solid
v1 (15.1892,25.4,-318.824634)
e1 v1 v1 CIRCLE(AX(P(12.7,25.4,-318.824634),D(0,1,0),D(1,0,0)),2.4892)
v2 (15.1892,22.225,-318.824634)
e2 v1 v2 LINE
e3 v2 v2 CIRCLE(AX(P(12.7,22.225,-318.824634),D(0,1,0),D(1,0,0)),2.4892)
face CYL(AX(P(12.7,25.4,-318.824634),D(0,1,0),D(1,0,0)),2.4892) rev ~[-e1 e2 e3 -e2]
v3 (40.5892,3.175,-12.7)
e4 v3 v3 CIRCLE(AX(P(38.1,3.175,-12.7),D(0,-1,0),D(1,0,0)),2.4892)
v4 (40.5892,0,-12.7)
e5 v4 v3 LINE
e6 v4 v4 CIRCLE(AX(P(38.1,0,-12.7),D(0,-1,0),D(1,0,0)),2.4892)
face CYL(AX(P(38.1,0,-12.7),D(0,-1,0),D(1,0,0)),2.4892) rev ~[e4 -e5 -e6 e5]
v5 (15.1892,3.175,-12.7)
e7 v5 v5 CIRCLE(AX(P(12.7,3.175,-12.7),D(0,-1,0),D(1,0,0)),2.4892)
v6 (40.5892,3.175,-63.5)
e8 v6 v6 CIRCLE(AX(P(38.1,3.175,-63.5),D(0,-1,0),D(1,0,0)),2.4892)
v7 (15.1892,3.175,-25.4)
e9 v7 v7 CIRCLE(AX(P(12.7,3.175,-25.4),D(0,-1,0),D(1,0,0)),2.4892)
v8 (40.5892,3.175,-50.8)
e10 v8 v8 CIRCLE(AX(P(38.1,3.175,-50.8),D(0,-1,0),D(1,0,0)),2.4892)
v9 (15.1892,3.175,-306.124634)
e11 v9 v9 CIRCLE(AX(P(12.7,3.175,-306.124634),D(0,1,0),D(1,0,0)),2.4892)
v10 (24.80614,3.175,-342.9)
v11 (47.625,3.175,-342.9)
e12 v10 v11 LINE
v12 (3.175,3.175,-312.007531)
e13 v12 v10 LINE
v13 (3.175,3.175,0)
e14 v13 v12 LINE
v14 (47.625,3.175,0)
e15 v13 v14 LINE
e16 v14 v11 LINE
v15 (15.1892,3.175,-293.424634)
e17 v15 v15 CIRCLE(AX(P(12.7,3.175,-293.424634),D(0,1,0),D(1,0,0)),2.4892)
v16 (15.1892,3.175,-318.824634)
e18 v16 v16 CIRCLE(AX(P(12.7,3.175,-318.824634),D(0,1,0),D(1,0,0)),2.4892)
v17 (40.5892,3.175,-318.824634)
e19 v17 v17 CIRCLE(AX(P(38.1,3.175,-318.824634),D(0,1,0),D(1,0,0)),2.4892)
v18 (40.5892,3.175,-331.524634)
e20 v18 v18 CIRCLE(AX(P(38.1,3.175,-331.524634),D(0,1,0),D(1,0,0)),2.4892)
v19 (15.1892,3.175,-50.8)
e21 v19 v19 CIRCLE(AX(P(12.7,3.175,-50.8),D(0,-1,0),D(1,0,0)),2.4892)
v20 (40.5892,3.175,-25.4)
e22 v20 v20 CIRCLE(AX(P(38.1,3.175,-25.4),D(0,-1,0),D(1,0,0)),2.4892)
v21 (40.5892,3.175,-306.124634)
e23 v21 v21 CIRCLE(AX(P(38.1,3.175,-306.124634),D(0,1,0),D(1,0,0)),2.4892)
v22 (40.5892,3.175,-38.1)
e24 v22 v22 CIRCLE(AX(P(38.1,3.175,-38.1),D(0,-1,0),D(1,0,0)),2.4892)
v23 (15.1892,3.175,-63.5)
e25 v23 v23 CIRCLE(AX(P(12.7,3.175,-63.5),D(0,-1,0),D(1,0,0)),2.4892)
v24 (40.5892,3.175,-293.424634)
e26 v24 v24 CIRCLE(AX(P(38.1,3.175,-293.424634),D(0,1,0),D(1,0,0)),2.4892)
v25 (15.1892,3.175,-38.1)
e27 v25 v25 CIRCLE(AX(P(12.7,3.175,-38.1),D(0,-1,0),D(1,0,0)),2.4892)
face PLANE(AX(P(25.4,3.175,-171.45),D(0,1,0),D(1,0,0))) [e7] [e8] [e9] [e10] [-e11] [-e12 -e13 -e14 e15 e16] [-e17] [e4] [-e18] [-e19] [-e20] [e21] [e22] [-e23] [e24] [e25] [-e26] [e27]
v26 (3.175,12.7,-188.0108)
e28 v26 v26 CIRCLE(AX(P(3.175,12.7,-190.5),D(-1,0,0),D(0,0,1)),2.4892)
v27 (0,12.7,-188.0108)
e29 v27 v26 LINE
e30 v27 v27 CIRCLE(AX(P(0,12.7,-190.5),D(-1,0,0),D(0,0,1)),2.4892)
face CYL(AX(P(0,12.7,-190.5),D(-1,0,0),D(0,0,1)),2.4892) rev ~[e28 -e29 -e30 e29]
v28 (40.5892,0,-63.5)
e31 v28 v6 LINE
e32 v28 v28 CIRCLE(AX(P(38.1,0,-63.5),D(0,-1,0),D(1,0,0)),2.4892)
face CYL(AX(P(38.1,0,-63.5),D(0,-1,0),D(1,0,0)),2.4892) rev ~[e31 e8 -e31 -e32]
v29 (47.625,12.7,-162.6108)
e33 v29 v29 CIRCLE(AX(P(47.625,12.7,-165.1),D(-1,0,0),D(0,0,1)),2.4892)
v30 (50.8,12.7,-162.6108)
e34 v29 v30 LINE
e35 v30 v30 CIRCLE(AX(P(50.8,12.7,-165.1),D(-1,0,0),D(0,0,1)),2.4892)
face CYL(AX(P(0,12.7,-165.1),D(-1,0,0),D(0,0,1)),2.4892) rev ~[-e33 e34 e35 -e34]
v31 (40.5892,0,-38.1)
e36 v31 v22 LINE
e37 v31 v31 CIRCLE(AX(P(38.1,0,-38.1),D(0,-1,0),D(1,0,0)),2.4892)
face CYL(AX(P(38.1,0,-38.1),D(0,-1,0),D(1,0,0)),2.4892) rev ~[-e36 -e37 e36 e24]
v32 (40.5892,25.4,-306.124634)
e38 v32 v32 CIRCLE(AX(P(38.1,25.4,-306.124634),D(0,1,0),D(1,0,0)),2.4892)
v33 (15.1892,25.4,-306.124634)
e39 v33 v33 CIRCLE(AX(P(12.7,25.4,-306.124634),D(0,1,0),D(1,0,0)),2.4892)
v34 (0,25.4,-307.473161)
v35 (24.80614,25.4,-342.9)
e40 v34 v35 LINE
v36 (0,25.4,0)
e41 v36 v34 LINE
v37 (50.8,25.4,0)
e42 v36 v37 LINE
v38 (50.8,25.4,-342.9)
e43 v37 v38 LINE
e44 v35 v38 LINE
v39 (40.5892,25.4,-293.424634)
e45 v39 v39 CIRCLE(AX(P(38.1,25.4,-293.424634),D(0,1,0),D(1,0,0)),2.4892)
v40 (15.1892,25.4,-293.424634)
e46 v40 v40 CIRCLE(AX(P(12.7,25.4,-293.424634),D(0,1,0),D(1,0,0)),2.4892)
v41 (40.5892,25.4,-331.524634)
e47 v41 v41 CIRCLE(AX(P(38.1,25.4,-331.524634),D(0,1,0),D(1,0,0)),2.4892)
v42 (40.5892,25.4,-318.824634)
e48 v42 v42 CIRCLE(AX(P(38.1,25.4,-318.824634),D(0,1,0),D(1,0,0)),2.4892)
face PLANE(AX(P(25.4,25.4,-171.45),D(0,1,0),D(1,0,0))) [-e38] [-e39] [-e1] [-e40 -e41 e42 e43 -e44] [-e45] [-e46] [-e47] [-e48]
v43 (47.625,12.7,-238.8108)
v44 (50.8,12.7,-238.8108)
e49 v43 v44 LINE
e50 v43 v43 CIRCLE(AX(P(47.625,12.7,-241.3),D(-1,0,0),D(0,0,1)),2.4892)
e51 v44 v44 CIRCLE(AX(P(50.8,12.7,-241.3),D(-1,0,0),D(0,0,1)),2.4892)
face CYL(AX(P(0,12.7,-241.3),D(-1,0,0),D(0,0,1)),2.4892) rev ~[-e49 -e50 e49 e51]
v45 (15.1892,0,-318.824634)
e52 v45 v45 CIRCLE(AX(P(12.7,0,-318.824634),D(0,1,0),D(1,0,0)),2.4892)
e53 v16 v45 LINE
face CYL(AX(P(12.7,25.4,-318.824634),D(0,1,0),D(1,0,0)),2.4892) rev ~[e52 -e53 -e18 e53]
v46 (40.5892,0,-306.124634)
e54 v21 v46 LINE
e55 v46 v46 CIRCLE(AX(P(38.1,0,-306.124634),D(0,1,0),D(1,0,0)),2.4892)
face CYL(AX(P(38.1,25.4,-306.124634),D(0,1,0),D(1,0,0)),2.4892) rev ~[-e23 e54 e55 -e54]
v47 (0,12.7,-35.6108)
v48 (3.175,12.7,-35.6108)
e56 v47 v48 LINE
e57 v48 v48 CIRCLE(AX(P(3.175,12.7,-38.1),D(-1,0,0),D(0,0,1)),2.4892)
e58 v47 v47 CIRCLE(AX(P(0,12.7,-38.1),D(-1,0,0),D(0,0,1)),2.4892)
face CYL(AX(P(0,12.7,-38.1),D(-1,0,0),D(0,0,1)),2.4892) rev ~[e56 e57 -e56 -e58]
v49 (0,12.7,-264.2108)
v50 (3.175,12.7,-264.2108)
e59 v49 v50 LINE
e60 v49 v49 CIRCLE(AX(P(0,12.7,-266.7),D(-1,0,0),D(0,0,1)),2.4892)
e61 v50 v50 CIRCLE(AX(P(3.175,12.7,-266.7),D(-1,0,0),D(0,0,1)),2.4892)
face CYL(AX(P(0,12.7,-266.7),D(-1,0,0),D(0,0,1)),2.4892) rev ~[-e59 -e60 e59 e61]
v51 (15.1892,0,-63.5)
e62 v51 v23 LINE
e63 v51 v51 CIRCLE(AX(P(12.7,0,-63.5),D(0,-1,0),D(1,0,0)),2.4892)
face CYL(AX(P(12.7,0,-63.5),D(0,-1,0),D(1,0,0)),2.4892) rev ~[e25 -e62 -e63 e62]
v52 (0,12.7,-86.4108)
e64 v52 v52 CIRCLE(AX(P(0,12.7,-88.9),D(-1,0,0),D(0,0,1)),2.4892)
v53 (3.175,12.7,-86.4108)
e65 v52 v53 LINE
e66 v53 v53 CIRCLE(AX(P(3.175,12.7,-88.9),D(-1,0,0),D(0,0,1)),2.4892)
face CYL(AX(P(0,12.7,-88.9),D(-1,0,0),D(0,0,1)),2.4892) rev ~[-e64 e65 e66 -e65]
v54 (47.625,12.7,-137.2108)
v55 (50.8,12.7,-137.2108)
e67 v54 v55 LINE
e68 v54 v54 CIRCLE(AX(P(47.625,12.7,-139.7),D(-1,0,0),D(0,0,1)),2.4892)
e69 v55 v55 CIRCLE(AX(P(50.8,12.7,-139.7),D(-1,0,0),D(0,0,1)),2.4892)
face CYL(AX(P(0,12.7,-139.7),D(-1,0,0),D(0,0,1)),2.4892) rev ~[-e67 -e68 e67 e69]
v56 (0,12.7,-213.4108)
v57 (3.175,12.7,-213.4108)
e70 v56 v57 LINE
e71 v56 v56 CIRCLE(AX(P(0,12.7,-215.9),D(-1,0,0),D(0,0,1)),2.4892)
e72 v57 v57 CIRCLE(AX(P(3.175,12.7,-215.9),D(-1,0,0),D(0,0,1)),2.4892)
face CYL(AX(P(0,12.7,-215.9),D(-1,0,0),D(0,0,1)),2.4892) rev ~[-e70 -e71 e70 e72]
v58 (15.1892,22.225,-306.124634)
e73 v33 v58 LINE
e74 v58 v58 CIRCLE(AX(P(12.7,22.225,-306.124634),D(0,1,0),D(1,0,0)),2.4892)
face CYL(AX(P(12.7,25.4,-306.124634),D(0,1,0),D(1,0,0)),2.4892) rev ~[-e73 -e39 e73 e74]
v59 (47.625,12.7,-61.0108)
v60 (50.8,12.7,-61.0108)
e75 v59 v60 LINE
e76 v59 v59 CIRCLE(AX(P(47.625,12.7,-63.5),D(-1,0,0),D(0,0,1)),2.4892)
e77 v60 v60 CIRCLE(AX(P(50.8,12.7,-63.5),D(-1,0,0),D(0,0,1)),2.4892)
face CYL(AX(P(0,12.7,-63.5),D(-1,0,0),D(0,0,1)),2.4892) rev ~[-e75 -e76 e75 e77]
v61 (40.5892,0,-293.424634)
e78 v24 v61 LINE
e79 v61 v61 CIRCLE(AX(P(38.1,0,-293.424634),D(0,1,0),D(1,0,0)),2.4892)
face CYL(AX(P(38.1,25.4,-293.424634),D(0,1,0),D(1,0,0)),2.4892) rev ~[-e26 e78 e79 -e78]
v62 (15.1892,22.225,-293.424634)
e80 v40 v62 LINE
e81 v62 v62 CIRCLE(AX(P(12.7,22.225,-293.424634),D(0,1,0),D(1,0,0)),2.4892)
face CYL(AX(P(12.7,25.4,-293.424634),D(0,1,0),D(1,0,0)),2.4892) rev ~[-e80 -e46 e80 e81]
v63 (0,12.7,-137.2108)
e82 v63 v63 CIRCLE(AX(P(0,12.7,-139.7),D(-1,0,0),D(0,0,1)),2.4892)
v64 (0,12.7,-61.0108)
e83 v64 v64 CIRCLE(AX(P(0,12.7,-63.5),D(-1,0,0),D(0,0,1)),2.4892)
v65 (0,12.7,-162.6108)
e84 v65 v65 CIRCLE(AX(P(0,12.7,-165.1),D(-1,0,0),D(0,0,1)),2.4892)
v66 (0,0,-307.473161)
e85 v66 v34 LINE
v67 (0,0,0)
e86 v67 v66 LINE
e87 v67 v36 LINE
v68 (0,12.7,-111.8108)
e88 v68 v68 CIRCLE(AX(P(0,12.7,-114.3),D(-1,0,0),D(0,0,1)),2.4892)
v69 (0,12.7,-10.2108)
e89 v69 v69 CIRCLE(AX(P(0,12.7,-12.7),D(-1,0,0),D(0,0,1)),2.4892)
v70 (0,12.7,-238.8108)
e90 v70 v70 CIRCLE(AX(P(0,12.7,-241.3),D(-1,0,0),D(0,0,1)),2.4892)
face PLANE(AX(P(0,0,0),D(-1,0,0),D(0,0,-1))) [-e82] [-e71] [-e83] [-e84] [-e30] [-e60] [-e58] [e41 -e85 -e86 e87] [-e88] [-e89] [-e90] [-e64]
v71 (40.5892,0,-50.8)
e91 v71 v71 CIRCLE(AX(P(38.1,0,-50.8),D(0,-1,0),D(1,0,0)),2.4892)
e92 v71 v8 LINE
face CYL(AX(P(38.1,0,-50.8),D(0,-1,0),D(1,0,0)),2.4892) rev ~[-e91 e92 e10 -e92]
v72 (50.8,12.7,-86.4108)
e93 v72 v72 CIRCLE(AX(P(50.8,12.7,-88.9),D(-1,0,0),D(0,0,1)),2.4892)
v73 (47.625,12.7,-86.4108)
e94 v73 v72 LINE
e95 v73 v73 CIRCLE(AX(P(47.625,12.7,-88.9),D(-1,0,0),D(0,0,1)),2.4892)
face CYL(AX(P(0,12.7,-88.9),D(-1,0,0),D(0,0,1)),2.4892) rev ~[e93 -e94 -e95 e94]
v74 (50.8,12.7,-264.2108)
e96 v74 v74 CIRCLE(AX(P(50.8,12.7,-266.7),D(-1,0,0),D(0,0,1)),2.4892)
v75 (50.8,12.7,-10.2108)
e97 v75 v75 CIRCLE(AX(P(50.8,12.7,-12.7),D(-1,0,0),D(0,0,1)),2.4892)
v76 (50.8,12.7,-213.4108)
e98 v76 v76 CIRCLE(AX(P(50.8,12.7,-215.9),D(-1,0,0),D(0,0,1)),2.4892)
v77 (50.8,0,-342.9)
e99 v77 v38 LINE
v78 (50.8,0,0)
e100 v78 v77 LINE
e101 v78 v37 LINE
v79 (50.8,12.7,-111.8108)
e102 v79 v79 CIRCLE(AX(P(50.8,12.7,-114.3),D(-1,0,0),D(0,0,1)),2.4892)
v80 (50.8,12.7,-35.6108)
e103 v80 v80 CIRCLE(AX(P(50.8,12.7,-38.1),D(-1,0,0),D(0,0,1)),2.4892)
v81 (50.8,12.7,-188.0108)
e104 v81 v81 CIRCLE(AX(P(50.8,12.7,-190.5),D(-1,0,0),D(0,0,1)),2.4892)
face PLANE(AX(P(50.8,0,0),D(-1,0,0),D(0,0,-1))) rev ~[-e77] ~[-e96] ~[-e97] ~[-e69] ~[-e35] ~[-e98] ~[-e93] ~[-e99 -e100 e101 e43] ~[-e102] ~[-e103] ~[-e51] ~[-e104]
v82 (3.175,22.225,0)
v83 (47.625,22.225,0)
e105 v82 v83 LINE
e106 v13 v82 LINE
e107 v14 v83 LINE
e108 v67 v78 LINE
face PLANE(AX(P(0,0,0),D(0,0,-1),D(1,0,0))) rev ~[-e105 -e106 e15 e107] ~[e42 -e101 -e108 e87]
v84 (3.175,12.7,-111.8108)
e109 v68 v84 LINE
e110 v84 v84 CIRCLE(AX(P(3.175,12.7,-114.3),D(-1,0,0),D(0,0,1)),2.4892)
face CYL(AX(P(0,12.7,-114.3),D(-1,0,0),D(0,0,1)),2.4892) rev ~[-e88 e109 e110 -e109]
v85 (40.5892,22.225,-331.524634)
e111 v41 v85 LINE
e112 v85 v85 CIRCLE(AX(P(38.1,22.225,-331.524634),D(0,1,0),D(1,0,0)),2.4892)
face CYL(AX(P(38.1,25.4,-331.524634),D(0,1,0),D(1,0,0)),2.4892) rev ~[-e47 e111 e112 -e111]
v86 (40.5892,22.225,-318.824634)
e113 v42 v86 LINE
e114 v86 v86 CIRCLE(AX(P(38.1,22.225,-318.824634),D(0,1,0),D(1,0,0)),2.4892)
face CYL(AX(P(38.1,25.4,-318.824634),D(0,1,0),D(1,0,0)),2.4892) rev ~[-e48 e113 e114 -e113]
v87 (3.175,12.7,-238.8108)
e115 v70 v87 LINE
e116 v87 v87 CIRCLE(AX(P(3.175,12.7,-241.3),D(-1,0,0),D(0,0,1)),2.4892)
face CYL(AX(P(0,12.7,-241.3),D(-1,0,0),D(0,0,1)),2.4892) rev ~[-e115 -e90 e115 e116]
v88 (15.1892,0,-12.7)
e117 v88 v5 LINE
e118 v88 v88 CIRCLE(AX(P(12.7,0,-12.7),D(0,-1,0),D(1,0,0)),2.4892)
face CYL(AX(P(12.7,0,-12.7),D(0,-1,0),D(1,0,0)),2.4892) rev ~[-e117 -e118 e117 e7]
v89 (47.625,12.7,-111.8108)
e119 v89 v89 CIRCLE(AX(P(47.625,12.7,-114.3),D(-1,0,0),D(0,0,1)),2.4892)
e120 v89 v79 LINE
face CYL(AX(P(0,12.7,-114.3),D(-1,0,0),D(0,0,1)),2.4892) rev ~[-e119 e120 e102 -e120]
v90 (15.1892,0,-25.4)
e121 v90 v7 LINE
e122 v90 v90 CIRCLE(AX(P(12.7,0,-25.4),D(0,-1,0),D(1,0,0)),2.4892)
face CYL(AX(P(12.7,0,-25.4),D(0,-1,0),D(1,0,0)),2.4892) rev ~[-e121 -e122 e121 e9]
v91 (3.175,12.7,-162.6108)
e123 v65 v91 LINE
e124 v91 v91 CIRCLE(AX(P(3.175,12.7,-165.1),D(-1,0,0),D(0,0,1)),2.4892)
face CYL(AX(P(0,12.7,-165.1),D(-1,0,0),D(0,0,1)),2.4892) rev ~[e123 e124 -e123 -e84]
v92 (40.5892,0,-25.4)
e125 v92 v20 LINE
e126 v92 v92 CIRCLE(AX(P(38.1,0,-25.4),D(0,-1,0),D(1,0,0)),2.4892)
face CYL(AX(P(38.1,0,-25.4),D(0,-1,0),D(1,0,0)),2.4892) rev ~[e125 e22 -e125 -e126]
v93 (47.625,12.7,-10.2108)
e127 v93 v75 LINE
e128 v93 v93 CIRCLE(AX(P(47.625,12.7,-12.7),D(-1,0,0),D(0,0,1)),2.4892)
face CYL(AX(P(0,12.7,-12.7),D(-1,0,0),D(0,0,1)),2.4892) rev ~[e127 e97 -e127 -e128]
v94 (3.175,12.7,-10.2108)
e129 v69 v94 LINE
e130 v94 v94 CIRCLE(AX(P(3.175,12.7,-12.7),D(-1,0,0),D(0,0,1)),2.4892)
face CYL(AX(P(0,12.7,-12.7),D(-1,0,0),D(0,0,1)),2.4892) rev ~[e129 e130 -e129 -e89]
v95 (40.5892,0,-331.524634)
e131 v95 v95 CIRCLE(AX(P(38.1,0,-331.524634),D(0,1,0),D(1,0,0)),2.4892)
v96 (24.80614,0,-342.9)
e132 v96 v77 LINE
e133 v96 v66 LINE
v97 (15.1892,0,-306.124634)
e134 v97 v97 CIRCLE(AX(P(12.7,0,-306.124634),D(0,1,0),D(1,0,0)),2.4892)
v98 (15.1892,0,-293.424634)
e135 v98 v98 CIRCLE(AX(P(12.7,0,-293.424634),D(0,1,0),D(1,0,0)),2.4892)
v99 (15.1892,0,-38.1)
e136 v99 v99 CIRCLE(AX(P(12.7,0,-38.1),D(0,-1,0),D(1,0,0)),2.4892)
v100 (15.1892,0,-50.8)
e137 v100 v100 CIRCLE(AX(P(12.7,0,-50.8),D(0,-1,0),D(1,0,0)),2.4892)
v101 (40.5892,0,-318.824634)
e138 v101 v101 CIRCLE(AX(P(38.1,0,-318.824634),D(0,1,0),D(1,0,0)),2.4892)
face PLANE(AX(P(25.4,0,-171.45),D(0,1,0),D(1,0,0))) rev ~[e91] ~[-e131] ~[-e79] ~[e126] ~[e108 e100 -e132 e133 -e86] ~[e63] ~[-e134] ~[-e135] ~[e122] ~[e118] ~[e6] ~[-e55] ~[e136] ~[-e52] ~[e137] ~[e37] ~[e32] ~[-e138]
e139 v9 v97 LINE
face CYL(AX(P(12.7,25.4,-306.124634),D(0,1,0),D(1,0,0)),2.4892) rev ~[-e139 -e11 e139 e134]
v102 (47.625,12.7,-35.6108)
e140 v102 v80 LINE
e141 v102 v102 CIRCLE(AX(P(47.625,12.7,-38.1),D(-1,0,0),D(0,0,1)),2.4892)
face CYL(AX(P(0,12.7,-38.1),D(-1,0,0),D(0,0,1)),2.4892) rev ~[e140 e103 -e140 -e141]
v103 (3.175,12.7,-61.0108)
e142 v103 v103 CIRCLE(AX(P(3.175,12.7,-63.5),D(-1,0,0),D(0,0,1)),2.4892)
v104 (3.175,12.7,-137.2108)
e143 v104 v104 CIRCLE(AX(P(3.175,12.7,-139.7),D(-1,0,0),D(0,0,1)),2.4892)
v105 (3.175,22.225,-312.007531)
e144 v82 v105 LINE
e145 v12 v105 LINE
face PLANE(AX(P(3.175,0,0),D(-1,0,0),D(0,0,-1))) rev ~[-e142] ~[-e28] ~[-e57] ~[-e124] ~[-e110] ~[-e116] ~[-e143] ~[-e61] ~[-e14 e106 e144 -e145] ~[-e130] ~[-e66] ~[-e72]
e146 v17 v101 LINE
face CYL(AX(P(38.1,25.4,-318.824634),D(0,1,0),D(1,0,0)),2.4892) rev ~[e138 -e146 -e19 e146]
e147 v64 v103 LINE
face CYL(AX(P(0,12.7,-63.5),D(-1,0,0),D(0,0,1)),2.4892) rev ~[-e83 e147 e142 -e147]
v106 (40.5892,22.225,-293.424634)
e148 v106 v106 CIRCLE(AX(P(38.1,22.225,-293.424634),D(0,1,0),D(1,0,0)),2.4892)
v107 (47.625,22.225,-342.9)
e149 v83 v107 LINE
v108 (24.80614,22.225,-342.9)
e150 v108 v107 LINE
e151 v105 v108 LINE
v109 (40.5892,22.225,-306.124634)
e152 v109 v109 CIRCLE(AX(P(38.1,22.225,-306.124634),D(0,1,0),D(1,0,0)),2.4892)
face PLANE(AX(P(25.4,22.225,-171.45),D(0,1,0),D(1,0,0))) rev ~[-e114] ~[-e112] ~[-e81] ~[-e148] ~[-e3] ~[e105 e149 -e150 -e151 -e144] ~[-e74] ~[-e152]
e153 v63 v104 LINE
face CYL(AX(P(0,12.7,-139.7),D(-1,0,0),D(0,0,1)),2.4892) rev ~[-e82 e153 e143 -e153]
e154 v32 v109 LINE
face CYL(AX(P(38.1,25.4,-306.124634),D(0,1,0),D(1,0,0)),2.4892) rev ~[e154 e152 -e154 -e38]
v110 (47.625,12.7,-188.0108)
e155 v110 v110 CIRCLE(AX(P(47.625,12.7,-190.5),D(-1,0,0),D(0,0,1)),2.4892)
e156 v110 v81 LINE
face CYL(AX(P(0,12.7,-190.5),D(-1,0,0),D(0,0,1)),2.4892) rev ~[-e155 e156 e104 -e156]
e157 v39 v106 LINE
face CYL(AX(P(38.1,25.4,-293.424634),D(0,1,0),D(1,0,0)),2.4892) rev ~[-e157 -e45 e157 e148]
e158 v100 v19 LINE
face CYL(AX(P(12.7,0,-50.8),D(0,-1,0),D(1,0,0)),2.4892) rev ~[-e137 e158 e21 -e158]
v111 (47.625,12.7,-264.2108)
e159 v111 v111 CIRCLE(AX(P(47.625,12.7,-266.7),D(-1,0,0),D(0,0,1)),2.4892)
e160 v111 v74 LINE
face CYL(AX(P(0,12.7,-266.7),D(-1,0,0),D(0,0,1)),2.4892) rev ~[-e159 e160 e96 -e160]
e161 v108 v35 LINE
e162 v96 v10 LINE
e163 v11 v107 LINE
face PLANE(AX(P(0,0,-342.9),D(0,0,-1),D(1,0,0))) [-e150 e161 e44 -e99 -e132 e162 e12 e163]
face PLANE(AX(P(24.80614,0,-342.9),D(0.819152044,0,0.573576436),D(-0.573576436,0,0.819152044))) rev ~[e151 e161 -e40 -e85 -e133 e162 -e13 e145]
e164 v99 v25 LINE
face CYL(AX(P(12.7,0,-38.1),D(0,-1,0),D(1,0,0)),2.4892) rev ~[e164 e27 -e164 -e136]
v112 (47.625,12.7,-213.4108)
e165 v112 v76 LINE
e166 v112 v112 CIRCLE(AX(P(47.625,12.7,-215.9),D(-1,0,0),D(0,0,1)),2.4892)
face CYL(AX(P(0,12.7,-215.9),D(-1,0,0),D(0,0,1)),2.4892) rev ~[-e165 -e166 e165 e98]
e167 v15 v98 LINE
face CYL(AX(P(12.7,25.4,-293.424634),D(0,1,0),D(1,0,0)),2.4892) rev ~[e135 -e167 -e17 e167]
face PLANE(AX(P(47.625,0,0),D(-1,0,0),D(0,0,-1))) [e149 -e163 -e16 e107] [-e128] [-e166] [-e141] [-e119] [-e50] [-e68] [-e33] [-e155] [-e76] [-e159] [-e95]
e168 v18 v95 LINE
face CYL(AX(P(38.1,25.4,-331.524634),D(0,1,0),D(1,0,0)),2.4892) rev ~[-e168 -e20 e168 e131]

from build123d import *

# Parameters (mm, degrees)
SKETCH1_W           = 50.8
SKETCH1_H           = 342.9
BOSS_EXTRUDE1_DEPTH = 25.4
SHELL1_T            = -3.175
SKETCH2_R           = 2.4892
CUT_EXTRUDE1_DEPTH  = 51.8
SKETCH3_R           = 2.4892
CUT_EXTRUDE2_DEPTH  = 26.4
CUT_EXTRUDE3_REACH  = 27.4
SKETCH4_R           = 2.4892
SKETCH6_R           = 2.4892
CUT_EXTRUDE5_DEPTH  = 26.4


with BuildPart() as part:
    # Sketch1 → Boss-Extrude1 (new body)
    with BuildSketch(Plane(origin=(0, 0, 0), x_dir=(1, 0, 0), z_dir=(0, 1, 0))):
        with Locations((25.4, 171.45)):
            Rectangle(SKETCH1_W, SKETCH1_H)
    extrude(amount=BOSS_EXTRUDE1_DEPTH)

    # Shell1
    shell1_openings = [part.faces().sort_by_distance(p)[0] for p in [
        (25.4, 12.7, -342.9),
        (25.4, 12.7, 0),
    ]]
    offset(amount=SHELL1_T, openings=shell1_openings, kind=Kind.INTERSECTION)

    # Sketch2 → Cut-Extrude1 (cut, through all)
    with BuildSketch(Plane.ZY):
        with Locations((-12.7, 12.7)):
            Circle(SKETCH2_R)
        with Locations((-38.1, 12.7)):
            Circle(SKETCH2_R)
        with Locations((-63.5, 12.7)):
            Circle(SKETCH2_R)
        with Locations((-88.9, 12.7)):
            Circle(SKETCH2_R)
        with Locations((-114.3, 12.7)):
            Circle(SKETCH2_R)
        with Locations((-139.7, 12.7)):
            Circle(SKETCH2_R)
        with Locations((-165.1, 12.7)):
            Circle(SKETCH2_R)
        with Locations((-190.5, 12.7)):
            Circle(SKETCH2_R)
        with Locations((-215.9, 12.7)):
            Circle(SKETCH2_R)
        with Locations((-241.3, 12.7)):
            Circle(SKETCH2_R)
        with Locations((-266.7, 12.7)):
            Circle(SKETCH2_R)
    extrude(amount=-CUT_EXTRUDE1_DEPTH, mode=Mode.SUBTRACT)

    # Sketch3 → Cut-Extrude2 (cut, through all)
    with BuildSketch(Plane(origin=(0, 25.4, 0), x_dir=(1, 0, 0), z_dir=(0, 1, 0))):
        with Locations((12.7, 293.424634479)):
            Circle(SKETCH3_R)
        with Locations((38.1, 293.424634479)):
            Circle(SKETCH3_R)
        with Locations((38.1, 306.124634479)):
            Circle(SKETCH3_R)
        with Locations((12.7, 306.124634479)):
            Circle(SKETCH3_R)
        with Locations((12.7, 318.824634479)):
            Circle(SKETCH3_R)
        with Locations((38.1, 318.824634479)):
            Circle(SKETCH3_R)
        with Locations((38.1, 331.524634479)):
            Circle(SKETCH3_R)
        with Locations((12.7, 331.524634479)):
            Circle(SKETCH3_R)
    extrude(amount=-CUT_EXTRUDE2_DEPTH, mode=Mode.SUBTRACT)

    # Sketch4 → Cut-Extrude3 (cut, up to next)
    with BuildSketch(Plane.XZ, mode=Mode.PRIVATE) as cut_extrude3_sk1:
        with Locations((38.1, -12.7)):
            Circle(SKETCH4_R)
    cut_extrude3_tool1 = extrude(cut_extrude3_sk1.sketch, amount=-CUT_EXTRUDE3_REACH, mode=Mode.PRIVATE) & part.part
    add(cut_extrude3_tool1.solids().sort_by_distance((38.1, 0, -12.7))[0], mode=Mode.SUBTRACT)
    # Sketch4 → Cut-Extrude3 (cut, up to next)
    with BuildSketch(Plane.XZ, mode=Mode.PRIVATE) as cut_extrude3_sk2:
        with Locations((12.7, -12.7)):
            Circle(SKETCH4_R)
    cut_extrude3_tool2 = extrude(cut_extrude3_sk2.sketch, amount=-CUT_EXTRUDE3_REACH, mode=Mode.PRIVATE) & part.part
    add(cut_extrude3_tool2.solids().sort_by_distance((12.7, 0, -12.7))[0], mode=Mode.SUBTRACT)
    # Sketch4 → Cut-Extrude3 (cut, up to next)
    with BuildSketch(Plane.XZ, mode=Mode.PRIVATE) as cut_extrude3_sk3:
        with Locations((12.7, -25.4)):
            Circle(SKETCH4_R)
    cut_extrude3_tool3 = extrude(cut_extrude3_sk3.sketch, amount=-CUT_EXTRUDE3_REACH, mode=Mode.PRIVATE) & part.part
    add(cut_extrude3_tool3.solids().sort_by_distance((12.7, 0, -25.4))[0], mode=Mode.SUBTRACT)
    # Sketch4 → Cut-Extrude3 (cut, up to next)
    with BuildSketch(Plane.XZ, mode=Mode.PRIVATE) as cut_extrude3_sk4:
        with Locations((38.1, -25.4)):
            Circle(SKETCH4_R)
    cut_extrude3_tool4 = extrude(cut_extrude3_sk4.sketch, amount=-CUT_EXTRUDE3_REACH, mode=Mode.PRIVATE) & part.part
    add(cut_extrude3_tool4.solids().sort_by_distance((38.1, 0, -25.4))[0], mode=Mode.SUBTRACT)
    # Sketch4 → Cut-Extrude3 (cut, up to next)
    with BuildSketch(Plane.XZ, mode=Mode.PRIVATE) as cut_extrude3_sk5:
        with Locations((38.1, -38.1)):
            Circle(SKETCH4_R)
    cut_extrude3_tool5 = extrude(cut_extrude3_sk5.sketch, amount=-CUT_EXTRUDE3_REACH, mode=Mode.PRIVATE) & part.part
    add(cut_extrude3_tool5.solids().sort_by_distance((38.1, 0, -38.1))[0], mode=Mode.SUBTRACT)
    # Sketch4 → Cut-Extrude3 (cut, up to next)
    with BuildSketch(Plane.XZ, mode=Mode.PRIVATE) as cut_extrude3_sk6:
        with Locations((12.7, -38.1)):
            Circle(SKETCH4_R)
    cut_extrude3_tool6 = extrude(cut_extrude3_sk6.sketch, amount=-CUT_EXTRUDE3_REACH, mode=Mode.PRIVATE) & part.part
    add(cut_extrude3_tool6.solids().sort_by_distance((12.7, 0, -38.1))[0], mode=Mode.SUBTRACT)
    # Sketch4 → Cut-Extrude3 (cut, up to next)
    with BuildSketch(Plane.XZ, mode=Mode.PRIVATE) as cut_extrude3_sk7:
        with Locations((12.7, -50.8)):
            Circle(SKETCH4_R)
    cut_extrude3_tool7 = extrude(cut_extrude3_sk7.sketch, amount=-CUT_EXTRUDE3_REACH, mode=Mode.PRIVATE) & part.part
    add(cut_extrude3_tool7.solids().sort_by_distance((12.7, 0, -50.8))[0], mode=Mode.SUBTRACT)
    # Sketch4 → Cut-Extrude3 (cut, up to next)
    with BuildSketch(Plane.XZ, mode=Mode.PRIVATE) as cut_extrude3_sk8:
        with Locations((38.1, -50.8)):
            Circle(SKETCH4_R)
    cut_extrude3_tool8 = extrude(cut_extrude3_sk8.sketch, amount=-CUT_EXTRUDE3_REACH, mode=Mode.PRIVATE) & part.part
    add(cut_extrude3_tool8.solids().sort_by_distance((38.1, 0, -50.8))[0], mode=Mode.SUBTRACT)
    # Sketch4 → Cut-Extrude3 (cut, up to next)
    with BuildSketch(Plane.XZ, mode=Mode.PRIVATE) as cut_extrude3_sk9:
        with Locations((38.1, -63.5)):
            Circle(SKETCH4_R)
    cut_extrude3_tool9 = extrude(cut_extrude3_sk9.sketch, amount=-CUT_EXTRUDE3_REACH, mode=Mode.PRIVATE) & part.part
    add(cut_extrude3_tool9.solids().sort_by_distance((38.1, 0, -63.5))[0], mode=Mode.SUBTRACT)
    # Sketch4 → Cut-Extrude3 (cut, up to next)
    with BuildSketch(Plane.XZ, mode=Mode.PRIVATE) as cut_extrude3_sk10:
        with Locations((12.7, -63.5)):
            Circle(SKETCH4_R)
    cut_extrude3_tool10 = extrude(cut_extrude3_sk10.sketch, amount=-CUT_EXTRUDE3_REACH, mode=Mode.PRIVATE) & part.part
    add(cut_extrude3_tool10.solids().sort_by_distance((12.7, 0, -63.5))[0], mode=Mode.SUBTRACT)

    # Sketch6 → Cut-Extrude5 (cut, through all)
    with BuildSketch(Plane.XZ):
        Polygon((0, -307.473161113), (0, -342.9), (24.806139644, -342.9), align=None)
        with Locations((12.7, -331.524634479)):
            Circle(SKETCH6_R, mode=Mode.SUBTRACT)
    extrude(amount=-CUT_EXTRUDE5_DEPTH, mode=Mode.SUBTRACT)


solid = part.part
